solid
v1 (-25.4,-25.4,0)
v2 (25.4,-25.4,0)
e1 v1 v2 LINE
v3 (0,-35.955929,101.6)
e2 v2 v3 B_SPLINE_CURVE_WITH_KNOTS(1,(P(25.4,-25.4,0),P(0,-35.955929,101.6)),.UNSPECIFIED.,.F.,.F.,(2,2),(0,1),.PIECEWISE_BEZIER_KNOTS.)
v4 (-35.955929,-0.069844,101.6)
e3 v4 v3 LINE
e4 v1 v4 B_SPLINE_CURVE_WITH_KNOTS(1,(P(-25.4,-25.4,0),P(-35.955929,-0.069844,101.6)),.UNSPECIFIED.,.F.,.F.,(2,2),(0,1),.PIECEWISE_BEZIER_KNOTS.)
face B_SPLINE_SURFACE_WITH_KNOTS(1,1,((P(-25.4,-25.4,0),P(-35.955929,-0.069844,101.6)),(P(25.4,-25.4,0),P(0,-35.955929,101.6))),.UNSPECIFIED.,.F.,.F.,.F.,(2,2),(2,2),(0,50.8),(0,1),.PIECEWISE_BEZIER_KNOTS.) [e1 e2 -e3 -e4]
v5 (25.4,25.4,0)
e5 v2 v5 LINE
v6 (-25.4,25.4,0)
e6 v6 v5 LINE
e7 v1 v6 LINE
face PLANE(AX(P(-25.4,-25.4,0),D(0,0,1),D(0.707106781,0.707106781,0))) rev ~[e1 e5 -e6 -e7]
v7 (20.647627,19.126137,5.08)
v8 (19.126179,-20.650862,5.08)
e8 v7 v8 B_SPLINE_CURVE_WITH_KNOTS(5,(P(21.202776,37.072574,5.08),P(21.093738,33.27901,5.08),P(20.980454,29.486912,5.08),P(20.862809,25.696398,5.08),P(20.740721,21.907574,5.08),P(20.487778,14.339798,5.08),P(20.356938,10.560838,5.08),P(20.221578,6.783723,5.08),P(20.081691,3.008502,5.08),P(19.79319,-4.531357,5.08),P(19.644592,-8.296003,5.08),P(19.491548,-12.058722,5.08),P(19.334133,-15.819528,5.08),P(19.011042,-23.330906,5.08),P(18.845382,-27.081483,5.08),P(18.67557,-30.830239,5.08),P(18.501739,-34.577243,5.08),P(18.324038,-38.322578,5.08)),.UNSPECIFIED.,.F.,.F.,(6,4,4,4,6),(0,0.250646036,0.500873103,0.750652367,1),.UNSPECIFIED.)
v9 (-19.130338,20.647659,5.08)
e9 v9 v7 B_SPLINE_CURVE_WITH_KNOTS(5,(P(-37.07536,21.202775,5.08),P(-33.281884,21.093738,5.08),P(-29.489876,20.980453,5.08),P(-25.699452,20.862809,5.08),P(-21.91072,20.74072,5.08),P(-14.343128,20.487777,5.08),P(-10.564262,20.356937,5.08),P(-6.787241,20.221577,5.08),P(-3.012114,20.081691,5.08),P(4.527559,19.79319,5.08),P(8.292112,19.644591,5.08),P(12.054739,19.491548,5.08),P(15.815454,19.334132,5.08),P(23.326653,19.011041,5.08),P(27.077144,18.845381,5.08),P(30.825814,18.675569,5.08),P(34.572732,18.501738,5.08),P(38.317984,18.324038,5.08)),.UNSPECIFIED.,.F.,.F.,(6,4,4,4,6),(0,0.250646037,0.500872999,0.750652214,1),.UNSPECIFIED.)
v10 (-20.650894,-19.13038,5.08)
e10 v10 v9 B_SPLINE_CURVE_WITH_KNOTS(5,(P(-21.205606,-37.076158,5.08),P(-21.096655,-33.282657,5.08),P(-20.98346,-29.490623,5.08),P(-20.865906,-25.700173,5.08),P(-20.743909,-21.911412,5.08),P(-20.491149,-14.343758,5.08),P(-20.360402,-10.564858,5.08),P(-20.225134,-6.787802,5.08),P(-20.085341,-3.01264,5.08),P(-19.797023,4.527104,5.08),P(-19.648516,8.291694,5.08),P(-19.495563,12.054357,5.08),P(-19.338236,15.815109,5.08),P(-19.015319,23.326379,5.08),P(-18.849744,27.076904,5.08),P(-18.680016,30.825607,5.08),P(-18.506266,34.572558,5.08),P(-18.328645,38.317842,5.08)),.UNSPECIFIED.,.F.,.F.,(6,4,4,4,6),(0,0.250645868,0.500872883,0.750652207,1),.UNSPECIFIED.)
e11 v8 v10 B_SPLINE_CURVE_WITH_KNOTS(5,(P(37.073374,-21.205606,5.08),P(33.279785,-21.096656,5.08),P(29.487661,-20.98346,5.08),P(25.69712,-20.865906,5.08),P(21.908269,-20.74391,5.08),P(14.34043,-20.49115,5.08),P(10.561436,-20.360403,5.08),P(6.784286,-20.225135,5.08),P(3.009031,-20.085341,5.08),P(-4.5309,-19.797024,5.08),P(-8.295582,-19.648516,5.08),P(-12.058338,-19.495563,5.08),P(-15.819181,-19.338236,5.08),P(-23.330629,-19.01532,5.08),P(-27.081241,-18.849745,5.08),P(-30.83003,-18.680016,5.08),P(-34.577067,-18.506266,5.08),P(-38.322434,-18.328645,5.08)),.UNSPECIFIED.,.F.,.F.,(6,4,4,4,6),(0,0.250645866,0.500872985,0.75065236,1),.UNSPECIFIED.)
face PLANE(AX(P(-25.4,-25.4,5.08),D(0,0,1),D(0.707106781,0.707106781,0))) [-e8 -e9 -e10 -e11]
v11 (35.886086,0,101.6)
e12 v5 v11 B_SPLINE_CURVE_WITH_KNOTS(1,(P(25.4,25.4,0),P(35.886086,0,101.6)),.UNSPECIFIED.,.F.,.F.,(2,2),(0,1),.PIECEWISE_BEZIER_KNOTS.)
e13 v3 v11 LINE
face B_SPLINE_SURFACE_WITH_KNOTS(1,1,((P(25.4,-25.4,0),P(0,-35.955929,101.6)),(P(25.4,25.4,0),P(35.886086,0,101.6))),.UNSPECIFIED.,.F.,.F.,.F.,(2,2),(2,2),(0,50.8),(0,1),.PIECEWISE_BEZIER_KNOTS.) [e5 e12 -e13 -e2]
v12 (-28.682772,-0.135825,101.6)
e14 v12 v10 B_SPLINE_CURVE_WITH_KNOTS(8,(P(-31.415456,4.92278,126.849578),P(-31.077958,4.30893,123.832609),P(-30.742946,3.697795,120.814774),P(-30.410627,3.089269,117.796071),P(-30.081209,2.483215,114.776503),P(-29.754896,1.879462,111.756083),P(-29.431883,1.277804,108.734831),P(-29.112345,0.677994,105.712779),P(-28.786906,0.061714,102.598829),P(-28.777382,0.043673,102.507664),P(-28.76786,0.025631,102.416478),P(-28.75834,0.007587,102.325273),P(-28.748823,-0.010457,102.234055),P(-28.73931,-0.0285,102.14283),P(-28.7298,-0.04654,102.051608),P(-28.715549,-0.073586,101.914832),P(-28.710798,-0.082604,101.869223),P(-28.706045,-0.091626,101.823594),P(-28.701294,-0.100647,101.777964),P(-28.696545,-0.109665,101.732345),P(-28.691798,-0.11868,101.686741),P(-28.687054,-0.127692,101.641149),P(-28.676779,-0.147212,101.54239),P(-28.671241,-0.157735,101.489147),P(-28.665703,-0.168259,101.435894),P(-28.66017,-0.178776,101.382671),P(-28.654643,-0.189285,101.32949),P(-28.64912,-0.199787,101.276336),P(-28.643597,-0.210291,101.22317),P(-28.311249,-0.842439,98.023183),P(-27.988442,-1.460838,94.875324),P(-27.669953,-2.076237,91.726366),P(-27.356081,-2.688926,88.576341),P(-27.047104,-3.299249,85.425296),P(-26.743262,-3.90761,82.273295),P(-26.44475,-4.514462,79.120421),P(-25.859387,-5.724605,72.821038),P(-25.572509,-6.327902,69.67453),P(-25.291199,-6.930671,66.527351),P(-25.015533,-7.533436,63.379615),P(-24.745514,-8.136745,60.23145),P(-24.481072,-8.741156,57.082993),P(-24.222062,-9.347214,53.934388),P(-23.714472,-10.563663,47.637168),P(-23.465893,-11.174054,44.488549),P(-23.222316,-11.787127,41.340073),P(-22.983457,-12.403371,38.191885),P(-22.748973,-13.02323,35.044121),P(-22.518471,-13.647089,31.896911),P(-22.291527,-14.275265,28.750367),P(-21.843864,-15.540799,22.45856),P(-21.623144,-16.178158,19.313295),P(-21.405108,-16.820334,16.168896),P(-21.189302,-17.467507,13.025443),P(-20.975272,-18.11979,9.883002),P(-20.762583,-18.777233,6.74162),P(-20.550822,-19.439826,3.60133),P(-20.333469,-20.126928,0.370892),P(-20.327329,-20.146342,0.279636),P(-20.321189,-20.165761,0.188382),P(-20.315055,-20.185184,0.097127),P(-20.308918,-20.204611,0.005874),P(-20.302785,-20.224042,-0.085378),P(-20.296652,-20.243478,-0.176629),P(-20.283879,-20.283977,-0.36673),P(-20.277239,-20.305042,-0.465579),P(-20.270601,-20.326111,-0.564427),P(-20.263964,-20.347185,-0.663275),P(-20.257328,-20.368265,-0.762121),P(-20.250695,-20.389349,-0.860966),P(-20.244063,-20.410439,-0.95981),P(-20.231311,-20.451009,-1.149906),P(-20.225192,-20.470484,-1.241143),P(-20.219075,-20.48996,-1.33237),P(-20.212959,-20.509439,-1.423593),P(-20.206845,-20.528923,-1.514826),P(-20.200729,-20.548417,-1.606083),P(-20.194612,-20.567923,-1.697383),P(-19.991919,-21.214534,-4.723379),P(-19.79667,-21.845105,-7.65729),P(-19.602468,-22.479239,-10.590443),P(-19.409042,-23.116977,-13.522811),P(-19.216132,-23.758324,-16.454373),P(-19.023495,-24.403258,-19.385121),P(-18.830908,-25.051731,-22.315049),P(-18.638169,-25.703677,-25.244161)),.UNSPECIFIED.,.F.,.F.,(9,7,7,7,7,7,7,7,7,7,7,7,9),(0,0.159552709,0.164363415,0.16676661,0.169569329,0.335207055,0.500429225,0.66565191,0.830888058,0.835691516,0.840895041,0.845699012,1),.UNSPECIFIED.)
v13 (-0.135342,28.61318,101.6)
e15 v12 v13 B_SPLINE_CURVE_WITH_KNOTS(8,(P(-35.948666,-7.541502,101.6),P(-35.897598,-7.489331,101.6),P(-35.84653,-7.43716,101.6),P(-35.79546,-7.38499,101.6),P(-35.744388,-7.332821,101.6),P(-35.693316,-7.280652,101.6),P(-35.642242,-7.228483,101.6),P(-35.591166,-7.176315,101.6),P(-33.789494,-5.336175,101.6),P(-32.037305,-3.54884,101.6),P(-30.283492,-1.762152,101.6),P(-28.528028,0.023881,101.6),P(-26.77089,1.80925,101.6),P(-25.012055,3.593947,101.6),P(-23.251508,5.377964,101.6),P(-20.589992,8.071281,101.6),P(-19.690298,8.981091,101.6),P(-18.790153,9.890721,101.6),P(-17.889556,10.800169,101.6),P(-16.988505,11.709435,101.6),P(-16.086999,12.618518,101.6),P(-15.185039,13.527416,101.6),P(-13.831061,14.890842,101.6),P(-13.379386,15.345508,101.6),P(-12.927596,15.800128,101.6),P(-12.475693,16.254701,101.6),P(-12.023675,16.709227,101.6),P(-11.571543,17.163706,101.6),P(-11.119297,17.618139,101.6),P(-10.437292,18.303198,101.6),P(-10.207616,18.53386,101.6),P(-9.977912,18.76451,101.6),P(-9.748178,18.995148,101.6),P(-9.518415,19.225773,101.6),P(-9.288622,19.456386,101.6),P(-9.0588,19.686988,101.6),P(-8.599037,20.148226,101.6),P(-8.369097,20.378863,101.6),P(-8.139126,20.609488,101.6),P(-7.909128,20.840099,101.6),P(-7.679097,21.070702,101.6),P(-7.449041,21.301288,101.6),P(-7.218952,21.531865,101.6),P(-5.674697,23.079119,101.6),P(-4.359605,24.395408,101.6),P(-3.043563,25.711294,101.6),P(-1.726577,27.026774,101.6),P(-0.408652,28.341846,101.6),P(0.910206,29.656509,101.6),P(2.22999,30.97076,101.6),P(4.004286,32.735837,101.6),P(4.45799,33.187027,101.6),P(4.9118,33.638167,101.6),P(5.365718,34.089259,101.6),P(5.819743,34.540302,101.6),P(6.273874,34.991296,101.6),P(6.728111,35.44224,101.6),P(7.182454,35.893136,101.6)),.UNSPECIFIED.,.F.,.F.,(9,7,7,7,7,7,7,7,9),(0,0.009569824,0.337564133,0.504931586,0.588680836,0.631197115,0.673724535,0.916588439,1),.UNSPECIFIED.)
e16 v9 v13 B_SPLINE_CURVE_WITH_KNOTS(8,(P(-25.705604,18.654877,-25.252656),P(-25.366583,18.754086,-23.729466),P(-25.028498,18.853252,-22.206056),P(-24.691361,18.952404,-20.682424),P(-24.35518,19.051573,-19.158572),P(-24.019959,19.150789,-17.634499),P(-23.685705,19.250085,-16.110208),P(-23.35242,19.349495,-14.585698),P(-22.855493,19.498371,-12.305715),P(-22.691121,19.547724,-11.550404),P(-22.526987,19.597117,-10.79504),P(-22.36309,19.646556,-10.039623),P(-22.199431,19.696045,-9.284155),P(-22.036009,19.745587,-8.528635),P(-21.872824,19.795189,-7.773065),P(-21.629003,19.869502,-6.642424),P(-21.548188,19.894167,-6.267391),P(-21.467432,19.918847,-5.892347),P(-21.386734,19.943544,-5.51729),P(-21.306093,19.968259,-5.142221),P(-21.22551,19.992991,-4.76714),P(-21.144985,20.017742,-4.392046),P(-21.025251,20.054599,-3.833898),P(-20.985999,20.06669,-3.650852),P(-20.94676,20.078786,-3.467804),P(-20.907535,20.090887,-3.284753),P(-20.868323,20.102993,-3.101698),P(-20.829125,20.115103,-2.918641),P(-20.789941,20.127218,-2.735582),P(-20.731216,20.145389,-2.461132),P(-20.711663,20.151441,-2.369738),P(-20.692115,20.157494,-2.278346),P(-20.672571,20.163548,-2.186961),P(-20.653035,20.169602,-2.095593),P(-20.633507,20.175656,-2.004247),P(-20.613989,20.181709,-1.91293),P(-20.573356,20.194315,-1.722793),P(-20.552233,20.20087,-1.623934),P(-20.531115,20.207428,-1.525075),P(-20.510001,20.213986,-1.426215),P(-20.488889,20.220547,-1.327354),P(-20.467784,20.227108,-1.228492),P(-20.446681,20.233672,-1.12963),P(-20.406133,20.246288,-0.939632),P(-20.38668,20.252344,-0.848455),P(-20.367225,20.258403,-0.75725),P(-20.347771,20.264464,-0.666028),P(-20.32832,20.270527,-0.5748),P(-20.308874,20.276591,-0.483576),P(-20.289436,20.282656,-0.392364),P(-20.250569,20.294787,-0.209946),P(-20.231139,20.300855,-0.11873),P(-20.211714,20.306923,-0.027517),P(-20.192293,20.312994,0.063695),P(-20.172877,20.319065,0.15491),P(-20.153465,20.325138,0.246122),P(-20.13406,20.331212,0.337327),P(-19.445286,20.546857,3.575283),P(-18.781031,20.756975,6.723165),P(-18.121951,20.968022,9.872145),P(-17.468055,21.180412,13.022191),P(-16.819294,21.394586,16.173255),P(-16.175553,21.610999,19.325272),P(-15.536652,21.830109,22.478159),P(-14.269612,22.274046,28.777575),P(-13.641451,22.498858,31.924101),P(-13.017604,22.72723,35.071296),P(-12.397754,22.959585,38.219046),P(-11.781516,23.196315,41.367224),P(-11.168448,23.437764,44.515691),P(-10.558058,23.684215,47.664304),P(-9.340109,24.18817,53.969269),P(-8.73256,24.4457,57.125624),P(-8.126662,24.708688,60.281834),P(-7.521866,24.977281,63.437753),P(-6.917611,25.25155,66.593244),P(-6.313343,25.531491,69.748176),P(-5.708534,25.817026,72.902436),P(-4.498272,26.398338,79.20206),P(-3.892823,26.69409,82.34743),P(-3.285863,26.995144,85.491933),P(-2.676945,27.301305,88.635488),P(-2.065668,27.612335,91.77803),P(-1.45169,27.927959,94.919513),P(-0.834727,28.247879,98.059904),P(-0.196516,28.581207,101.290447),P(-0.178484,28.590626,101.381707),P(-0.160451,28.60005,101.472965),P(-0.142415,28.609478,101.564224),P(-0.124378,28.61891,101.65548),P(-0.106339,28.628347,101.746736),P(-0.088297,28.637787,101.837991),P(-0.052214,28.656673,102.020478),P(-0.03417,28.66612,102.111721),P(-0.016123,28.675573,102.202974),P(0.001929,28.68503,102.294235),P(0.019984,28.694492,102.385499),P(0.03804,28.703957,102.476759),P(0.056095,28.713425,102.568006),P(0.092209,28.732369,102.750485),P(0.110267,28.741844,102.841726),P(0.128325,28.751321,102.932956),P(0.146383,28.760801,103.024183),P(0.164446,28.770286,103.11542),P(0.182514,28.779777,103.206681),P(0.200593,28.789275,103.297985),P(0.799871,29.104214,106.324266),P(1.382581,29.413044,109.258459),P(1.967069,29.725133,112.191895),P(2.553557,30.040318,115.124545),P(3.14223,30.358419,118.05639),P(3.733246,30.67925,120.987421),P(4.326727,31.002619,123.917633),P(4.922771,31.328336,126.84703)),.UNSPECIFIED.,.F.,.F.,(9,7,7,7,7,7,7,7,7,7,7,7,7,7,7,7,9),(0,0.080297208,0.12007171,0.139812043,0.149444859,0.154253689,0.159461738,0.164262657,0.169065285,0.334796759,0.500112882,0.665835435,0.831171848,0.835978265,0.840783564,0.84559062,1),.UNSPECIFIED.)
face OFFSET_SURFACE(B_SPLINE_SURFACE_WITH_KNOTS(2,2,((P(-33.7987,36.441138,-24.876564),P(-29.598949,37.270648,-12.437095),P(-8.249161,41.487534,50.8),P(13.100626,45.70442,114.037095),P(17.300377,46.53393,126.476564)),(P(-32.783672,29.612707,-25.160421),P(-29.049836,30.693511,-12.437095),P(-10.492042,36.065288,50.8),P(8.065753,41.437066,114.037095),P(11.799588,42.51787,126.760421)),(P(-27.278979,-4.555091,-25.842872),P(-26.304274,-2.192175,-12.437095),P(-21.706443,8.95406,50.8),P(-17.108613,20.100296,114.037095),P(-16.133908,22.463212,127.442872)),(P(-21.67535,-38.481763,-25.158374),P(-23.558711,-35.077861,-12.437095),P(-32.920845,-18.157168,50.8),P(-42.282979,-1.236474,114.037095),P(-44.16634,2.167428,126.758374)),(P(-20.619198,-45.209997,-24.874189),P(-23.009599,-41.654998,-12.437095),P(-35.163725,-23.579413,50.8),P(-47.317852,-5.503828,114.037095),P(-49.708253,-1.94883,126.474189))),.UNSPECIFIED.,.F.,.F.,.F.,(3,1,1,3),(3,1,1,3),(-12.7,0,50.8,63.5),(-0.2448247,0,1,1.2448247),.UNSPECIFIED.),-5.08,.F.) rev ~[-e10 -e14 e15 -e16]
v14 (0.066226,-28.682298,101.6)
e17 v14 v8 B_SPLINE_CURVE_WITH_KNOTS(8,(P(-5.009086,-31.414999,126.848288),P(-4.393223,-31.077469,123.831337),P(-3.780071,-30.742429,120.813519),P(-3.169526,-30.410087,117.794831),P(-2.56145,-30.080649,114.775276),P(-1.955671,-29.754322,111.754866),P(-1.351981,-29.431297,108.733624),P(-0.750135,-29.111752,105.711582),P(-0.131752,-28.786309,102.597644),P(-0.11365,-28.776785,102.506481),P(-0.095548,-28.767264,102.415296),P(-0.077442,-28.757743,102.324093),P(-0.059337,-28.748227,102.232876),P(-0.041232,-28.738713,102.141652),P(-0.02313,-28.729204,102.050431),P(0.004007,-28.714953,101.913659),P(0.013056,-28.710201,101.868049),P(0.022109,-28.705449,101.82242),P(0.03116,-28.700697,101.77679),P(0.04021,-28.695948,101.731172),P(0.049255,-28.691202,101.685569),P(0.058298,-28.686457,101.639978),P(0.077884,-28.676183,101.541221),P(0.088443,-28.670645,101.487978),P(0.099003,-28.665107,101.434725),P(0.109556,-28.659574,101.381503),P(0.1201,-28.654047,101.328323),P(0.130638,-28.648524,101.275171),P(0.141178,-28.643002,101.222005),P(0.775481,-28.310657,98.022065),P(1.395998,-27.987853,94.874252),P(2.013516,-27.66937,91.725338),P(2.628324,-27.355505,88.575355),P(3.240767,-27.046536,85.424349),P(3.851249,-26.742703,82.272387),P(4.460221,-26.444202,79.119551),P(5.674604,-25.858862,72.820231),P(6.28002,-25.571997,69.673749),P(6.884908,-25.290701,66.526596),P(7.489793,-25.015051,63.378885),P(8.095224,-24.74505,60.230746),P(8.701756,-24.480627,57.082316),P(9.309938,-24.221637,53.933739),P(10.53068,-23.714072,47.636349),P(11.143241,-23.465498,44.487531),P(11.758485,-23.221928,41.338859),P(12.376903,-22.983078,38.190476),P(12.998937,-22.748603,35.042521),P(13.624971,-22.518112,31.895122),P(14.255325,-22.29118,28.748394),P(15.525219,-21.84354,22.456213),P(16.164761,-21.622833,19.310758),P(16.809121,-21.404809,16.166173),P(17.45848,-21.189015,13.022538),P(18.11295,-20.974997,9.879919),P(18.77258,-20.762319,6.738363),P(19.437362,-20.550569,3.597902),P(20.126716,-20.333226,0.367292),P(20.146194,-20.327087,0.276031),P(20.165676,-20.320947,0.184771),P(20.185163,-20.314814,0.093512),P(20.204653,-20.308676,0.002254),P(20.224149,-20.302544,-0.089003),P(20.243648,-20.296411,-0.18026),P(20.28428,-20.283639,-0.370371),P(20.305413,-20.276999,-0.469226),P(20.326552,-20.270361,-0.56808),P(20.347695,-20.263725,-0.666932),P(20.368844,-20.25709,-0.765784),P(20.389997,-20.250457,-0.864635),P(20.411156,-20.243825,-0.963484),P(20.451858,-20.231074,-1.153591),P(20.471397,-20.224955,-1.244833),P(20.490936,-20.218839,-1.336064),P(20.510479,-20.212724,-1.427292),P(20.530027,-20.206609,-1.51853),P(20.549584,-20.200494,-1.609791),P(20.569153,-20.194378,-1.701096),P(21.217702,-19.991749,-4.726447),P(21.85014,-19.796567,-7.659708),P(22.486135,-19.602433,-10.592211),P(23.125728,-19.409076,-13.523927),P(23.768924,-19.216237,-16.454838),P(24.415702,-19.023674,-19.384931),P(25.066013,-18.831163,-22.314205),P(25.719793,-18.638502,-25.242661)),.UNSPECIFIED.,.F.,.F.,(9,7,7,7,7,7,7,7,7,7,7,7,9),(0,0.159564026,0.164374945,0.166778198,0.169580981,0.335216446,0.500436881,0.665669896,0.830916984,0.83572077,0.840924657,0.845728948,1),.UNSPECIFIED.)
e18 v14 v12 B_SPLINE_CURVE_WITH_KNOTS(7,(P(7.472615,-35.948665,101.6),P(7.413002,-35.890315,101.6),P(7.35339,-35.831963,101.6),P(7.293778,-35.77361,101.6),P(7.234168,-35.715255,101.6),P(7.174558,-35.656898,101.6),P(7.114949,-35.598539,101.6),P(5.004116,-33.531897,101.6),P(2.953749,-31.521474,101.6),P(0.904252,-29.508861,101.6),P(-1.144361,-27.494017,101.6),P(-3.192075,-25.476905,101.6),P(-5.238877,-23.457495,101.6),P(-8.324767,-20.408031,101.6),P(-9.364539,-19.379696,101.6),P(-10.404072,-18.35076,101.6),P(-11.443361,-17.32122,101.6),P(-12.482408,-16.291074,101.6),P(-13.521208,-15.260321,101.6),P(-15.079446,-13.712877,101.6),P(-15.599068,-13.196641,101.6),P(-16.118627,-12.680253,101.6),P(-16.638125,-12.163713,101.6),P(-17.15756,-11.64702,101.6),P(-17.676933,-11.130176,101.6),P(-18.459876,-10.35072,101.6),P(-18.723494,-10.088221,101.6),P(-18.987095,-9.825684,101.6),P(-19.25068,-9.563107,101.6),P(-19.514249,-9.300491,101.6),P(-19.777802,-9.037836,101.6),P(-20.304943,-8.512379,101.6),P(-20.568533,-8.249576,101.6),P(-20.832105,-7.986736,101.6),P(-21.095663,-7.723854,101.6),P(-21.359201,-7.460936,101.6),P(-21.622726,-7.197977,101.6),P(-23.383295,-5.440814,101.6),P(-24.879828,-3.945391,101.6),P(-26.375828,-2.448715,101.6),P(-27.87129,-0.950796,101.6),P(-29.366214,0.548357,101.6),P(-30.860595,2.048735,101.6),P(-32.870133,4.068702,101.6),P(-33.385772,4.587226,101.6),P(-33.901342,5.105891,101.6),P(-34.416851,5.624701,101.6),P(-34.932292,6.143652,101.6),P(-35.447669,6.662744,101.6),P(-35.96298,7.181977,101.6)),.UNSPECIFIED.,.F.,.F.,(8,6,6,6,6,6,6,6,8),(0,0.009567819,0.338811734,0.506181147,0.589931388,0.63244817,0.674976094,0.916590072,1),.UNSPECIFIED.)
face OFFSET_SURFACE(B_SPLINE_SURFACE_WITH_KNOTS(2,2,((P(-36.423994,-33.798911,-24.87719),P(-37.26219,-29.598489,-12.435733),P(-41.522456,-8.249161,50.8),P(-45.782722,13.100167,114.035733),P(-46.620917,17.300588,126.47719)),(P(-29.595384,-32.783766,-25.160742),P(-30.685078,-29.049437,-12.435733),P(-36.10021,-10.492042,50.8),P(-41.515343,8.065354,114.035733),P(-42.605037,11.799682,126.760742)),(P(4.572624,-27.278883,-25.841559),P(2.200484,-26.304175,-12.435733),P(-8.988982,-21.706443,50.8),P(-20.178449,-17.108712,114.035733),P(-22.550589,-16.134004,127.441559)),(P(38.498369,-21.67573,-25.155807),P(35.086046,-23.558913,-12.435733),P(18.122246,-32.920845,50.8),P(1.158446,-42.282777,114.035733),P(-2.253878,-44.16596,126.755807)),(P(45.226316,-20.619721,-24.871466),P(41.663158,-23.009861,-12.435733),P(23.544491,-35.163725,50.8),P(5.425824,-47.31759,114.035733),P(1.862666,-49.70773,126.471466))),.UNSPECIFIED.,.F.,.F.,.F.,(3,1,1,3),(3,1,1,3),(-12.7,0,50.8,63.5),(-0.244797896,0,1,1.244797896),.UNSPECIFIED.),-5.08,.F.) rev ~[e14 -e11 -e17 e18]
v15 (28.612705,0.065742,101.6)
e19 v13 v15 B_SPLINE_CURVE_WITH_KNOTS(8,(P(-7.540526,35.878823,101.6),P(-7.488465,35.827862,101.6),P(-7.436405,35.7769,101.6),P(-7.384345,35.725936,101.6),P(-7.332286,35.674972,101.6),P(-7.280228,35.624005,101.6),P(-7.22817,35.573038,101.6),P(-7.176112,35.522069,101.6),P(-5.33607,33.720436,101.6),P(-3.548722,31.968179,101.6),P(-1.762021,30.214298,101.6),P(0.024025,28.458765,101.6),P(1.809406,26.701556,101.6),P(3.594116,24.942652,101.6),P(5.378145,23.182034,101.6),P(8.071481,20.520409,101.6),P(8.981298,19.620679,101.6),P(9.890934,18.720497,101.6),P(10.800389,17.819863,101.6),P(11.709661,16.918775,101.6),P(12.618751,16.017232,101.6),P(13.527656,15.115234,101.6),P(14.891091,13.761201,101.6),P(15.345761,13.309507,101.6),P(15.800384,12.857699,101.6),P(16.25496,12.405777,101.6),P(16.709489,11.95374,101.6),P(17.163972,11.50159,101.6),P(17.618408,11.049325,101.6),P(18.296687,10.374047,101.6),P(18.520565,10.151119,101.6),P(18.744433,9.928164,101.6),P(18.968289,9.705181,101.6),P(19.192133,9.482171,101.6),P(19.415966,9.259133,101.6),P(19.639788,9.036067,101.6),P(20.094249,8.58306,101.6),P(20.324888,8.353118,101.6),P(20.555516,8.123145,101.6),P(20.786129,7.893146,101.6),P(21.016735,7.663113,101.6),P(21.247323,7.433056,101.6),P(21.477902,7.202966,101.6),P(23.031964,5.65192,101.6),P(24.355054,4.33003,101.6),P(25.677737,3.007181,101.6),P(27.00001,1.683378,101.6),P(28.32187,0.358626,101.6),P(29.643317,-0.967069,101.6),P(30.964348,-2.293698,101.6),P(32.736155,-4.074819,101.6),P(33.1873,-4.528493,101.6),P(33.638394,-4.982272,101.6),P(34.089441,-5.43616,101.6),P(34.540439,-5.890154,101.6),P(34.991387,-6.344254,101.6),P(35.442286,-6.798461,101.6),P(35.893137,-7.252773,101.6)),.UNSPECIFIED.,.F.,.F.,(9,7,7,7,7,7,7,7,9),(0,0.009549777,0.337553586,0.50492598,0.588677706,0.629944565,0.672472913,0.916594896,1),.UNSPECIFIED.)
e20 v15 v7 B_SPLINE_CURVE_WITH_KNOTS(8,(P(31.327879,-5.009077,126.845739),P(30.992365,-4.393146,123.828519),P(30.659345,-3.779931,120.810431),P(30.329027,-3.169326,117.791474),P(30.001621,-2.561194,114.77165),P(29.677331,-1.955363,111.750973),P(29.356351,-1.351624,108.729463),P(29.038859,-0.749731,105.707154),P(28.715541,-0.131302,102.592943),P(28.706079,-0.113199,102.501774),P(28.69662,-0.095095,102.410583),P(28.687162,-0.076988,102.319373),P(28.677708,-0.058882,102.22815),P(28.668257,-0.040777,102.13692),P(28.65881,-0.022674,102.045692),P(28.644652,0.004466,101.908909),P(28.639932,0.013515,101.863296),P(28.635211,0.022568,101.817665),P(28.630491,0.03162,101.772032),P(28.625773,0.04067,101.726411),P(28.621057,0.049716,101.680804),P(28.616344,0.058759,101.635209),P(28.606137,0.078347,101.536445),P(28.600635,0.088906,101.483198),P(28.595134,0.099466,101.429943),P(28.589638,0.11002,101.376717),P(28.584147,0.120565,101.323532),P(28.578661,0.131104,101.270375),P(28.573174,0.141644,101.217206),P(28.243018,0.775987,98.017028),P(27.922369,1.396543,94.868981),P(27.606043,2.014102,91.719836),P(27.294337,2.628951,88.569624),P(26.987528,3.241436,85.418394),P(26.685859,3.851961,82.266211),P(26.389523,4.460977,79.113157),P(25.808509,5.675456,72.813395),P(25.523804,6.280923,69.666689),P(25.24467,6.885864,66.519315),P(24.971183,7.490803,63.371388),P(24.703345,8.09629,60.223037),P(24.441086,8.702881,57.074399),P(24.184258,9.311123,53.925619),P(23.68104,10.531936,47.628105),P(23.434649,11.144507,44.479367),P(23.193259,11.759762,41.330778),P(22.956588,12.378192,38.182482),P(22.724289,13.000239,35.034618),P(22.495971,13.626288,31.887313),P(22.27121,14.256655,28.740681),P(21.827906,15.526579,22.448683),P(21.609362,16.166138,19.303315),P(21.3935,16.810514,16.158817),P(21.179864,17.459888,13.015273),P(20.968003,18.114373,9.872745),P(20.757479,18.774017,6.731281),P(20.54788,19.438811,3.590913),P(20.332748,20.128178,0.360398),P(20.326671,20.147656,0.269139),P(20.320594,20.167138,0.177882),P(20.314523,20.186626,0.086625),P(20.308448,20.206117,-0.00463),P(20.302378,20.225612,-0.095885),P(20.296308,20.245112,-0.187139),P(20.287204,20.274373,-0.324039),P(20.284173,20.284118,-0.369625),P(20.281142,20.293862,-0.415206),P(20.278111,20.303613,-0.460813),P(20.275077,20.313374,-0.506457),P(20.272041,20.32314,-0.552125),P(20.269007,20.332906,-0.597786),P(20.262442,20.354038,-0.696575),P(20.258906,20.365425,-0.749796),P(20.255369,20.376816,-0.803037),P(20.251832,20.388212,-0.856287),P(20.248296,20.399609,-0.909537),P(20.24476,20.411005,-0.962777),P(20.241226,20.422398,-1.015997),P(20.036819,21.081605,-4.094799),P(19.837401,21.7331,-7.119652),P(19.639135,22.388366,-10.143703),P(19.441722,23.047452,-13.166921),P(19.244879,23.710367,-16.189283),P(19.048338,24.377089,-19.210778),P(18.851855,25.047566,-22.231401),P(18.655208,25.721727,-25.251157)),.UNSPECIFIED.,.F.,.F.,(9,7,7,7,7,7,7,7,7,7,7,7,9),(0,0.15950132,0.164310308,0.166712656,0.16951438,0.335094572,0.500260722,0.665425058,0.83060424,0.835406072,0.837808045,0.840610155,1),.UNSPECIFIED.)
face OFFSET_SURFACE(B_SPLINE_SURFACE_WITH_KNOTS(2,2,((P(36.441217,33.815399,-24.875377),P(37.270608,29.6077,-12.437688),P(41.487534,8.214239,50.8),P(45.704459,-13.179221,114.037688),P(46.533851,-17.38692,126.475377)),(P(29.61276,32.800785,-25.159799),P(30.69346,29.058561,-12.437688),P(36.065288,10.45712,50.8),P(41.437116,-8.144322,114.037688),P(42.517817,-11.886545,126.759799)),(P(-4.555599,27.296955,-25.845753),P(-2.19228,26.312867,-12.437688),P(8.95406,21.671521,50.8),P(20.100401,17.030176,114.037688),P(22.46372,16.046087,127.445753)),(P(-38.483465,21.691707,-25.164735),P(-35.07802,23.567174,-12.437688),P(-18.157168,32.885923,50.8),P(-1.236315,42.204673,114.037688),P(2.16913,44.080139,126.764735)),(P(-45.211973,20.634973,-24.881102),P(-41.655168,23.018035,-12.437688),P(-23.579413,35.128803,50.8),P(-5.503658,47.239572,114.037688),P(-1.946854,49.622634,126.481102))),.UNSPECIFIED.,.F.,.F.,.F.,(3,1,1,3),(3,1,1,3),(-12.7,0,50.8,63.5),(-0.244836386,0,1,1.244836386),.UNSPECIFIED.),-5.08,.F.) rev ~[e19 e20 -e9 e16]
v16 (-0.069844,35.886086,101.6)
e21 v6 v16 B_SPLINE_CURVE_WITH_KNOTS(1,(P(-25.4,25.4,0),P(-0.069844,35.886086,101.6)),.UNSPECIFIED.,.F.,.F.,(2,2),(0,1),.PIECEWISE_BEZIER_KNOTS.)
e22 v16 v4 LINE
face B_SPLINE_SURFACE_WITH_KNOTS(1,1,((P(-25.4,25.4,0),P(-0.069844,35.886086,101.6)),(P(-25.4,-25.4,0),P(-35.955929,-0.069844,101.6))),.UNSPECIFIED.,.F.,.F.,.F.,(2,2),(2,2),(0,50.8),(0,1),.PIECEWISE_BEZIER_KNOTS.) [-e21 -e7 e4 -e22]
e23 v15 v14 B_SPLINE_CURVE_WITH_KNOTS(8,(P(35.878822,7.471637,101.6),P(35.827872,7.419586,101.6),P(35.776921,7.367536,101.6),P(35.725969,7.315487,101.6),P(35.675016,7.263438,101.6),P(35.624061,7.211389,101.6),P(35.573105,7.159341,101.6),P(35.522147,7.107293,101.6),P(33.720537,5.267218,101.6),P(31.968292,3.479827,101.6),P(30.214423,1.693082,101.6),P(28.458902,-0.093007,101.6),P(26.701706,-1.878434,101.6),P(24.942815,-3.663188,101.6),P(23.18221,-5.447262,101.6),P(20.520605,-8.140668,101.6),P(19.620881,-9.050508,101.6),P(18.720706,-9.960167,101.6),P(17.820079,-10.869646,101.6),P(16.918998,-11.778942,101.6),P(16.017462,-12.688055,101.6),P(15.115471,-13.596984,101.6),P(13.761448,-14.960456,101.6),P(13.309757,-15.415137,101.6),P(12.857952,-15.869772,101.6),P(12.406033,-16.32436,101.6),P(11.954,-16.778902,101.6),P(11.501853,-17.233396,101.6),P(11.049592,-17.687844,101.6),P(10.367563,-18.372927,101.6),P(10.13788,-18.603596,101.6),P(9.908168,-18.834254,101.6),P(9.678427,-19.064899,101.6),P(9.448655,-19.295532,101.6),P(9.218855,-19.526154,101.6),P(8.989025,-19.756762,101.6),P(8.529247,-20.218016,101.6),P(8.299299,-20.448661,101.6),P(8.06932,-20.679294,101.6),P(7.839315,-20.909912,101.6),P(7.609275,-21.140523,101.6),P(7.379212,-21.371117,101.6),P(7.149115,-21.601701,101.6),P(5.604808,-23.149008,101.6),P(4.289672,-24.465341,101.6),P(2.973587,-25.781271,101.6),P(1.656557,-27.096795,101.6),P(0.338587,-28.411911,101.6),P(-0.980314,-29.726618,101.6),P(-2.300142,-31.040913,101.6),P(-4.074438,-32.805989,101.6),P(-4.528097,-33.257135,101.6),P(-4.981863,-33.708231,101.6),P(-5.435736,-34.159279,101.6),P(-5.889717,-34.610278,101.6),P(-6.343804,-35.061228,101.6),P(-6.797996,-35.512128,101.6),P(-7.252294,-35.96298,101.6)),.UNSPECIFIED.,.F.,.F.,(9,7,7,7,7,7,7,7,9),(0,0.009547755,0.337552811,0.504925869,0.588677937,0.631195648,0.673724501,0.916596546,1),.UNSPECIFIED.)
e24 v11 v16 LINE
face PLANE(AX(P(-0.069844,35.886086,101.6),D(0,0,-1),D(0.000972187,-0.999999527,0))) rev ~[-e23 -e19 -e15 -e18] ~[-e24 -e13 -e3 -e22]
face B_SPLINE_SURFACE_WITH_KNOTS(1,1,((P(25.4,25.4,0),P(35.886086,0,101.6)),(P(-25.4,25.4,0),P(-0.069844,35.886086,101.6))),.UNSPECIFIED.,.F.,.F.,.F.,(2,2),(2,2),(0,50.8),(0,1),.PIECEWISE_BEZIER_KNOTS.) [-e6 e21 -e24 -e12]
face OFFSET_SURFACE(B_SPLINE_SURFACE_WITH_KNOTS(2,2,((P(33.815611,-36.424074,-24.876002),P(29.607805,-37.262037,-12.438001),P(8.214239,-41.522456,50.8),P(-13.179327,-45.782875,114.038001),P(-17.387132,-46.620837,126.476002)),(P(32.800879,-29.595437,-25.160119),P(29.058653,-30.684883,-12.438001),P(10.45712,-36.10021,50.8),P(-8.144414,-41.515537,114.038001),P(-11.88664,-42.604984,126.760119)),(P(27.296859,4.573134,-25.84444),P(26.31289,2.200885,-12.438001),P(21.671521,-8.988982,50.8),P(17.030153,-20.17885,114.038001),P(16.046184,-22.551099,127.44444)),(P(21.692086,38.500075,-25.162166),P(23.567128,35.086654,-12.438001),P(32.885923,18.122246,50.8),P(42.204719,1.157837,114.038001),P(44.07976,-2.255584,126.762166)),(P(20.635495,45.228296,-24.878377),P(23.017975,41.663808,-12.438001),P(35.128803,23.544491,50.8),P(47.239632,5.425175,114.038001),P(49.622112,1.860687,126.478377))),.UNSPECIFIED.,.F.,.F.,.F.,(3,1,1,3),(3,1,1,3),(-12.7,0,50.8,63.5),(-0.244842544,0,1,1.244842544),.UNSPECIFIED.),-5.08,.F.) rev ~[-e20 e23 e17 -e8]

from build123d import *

# Parameters (mm, degrees)
F0_W = 50.8
F0_H = 50.8
F4_T = -5.08


with BuildPart() as f3:
    # F0 (on Top) → F3 section 0
    with BuildSketch(Plane.XY):
        Rectangle(F0_W, F0_H)
    # F2 (on offset) → F3 section 1
    with BuildSketch(Plane.XY.offset(101.6)):
        Polygon((-0.0698438989, 35.8860855595), (-35.9559294584, -0.0698438989), (0, -35.9559294584), (35.8860855595, 0), align=None)
    loft()

    # F4
    f4_openings = [f3.faces().sort_by_distance(p)[0] for p in [
        (-0.034922, -0.034922, 101.6),
    ]]
    offset(amount=F4_T, openings=f4_openings, kind=Kind.INTERSECTION)


solid = f3.part
